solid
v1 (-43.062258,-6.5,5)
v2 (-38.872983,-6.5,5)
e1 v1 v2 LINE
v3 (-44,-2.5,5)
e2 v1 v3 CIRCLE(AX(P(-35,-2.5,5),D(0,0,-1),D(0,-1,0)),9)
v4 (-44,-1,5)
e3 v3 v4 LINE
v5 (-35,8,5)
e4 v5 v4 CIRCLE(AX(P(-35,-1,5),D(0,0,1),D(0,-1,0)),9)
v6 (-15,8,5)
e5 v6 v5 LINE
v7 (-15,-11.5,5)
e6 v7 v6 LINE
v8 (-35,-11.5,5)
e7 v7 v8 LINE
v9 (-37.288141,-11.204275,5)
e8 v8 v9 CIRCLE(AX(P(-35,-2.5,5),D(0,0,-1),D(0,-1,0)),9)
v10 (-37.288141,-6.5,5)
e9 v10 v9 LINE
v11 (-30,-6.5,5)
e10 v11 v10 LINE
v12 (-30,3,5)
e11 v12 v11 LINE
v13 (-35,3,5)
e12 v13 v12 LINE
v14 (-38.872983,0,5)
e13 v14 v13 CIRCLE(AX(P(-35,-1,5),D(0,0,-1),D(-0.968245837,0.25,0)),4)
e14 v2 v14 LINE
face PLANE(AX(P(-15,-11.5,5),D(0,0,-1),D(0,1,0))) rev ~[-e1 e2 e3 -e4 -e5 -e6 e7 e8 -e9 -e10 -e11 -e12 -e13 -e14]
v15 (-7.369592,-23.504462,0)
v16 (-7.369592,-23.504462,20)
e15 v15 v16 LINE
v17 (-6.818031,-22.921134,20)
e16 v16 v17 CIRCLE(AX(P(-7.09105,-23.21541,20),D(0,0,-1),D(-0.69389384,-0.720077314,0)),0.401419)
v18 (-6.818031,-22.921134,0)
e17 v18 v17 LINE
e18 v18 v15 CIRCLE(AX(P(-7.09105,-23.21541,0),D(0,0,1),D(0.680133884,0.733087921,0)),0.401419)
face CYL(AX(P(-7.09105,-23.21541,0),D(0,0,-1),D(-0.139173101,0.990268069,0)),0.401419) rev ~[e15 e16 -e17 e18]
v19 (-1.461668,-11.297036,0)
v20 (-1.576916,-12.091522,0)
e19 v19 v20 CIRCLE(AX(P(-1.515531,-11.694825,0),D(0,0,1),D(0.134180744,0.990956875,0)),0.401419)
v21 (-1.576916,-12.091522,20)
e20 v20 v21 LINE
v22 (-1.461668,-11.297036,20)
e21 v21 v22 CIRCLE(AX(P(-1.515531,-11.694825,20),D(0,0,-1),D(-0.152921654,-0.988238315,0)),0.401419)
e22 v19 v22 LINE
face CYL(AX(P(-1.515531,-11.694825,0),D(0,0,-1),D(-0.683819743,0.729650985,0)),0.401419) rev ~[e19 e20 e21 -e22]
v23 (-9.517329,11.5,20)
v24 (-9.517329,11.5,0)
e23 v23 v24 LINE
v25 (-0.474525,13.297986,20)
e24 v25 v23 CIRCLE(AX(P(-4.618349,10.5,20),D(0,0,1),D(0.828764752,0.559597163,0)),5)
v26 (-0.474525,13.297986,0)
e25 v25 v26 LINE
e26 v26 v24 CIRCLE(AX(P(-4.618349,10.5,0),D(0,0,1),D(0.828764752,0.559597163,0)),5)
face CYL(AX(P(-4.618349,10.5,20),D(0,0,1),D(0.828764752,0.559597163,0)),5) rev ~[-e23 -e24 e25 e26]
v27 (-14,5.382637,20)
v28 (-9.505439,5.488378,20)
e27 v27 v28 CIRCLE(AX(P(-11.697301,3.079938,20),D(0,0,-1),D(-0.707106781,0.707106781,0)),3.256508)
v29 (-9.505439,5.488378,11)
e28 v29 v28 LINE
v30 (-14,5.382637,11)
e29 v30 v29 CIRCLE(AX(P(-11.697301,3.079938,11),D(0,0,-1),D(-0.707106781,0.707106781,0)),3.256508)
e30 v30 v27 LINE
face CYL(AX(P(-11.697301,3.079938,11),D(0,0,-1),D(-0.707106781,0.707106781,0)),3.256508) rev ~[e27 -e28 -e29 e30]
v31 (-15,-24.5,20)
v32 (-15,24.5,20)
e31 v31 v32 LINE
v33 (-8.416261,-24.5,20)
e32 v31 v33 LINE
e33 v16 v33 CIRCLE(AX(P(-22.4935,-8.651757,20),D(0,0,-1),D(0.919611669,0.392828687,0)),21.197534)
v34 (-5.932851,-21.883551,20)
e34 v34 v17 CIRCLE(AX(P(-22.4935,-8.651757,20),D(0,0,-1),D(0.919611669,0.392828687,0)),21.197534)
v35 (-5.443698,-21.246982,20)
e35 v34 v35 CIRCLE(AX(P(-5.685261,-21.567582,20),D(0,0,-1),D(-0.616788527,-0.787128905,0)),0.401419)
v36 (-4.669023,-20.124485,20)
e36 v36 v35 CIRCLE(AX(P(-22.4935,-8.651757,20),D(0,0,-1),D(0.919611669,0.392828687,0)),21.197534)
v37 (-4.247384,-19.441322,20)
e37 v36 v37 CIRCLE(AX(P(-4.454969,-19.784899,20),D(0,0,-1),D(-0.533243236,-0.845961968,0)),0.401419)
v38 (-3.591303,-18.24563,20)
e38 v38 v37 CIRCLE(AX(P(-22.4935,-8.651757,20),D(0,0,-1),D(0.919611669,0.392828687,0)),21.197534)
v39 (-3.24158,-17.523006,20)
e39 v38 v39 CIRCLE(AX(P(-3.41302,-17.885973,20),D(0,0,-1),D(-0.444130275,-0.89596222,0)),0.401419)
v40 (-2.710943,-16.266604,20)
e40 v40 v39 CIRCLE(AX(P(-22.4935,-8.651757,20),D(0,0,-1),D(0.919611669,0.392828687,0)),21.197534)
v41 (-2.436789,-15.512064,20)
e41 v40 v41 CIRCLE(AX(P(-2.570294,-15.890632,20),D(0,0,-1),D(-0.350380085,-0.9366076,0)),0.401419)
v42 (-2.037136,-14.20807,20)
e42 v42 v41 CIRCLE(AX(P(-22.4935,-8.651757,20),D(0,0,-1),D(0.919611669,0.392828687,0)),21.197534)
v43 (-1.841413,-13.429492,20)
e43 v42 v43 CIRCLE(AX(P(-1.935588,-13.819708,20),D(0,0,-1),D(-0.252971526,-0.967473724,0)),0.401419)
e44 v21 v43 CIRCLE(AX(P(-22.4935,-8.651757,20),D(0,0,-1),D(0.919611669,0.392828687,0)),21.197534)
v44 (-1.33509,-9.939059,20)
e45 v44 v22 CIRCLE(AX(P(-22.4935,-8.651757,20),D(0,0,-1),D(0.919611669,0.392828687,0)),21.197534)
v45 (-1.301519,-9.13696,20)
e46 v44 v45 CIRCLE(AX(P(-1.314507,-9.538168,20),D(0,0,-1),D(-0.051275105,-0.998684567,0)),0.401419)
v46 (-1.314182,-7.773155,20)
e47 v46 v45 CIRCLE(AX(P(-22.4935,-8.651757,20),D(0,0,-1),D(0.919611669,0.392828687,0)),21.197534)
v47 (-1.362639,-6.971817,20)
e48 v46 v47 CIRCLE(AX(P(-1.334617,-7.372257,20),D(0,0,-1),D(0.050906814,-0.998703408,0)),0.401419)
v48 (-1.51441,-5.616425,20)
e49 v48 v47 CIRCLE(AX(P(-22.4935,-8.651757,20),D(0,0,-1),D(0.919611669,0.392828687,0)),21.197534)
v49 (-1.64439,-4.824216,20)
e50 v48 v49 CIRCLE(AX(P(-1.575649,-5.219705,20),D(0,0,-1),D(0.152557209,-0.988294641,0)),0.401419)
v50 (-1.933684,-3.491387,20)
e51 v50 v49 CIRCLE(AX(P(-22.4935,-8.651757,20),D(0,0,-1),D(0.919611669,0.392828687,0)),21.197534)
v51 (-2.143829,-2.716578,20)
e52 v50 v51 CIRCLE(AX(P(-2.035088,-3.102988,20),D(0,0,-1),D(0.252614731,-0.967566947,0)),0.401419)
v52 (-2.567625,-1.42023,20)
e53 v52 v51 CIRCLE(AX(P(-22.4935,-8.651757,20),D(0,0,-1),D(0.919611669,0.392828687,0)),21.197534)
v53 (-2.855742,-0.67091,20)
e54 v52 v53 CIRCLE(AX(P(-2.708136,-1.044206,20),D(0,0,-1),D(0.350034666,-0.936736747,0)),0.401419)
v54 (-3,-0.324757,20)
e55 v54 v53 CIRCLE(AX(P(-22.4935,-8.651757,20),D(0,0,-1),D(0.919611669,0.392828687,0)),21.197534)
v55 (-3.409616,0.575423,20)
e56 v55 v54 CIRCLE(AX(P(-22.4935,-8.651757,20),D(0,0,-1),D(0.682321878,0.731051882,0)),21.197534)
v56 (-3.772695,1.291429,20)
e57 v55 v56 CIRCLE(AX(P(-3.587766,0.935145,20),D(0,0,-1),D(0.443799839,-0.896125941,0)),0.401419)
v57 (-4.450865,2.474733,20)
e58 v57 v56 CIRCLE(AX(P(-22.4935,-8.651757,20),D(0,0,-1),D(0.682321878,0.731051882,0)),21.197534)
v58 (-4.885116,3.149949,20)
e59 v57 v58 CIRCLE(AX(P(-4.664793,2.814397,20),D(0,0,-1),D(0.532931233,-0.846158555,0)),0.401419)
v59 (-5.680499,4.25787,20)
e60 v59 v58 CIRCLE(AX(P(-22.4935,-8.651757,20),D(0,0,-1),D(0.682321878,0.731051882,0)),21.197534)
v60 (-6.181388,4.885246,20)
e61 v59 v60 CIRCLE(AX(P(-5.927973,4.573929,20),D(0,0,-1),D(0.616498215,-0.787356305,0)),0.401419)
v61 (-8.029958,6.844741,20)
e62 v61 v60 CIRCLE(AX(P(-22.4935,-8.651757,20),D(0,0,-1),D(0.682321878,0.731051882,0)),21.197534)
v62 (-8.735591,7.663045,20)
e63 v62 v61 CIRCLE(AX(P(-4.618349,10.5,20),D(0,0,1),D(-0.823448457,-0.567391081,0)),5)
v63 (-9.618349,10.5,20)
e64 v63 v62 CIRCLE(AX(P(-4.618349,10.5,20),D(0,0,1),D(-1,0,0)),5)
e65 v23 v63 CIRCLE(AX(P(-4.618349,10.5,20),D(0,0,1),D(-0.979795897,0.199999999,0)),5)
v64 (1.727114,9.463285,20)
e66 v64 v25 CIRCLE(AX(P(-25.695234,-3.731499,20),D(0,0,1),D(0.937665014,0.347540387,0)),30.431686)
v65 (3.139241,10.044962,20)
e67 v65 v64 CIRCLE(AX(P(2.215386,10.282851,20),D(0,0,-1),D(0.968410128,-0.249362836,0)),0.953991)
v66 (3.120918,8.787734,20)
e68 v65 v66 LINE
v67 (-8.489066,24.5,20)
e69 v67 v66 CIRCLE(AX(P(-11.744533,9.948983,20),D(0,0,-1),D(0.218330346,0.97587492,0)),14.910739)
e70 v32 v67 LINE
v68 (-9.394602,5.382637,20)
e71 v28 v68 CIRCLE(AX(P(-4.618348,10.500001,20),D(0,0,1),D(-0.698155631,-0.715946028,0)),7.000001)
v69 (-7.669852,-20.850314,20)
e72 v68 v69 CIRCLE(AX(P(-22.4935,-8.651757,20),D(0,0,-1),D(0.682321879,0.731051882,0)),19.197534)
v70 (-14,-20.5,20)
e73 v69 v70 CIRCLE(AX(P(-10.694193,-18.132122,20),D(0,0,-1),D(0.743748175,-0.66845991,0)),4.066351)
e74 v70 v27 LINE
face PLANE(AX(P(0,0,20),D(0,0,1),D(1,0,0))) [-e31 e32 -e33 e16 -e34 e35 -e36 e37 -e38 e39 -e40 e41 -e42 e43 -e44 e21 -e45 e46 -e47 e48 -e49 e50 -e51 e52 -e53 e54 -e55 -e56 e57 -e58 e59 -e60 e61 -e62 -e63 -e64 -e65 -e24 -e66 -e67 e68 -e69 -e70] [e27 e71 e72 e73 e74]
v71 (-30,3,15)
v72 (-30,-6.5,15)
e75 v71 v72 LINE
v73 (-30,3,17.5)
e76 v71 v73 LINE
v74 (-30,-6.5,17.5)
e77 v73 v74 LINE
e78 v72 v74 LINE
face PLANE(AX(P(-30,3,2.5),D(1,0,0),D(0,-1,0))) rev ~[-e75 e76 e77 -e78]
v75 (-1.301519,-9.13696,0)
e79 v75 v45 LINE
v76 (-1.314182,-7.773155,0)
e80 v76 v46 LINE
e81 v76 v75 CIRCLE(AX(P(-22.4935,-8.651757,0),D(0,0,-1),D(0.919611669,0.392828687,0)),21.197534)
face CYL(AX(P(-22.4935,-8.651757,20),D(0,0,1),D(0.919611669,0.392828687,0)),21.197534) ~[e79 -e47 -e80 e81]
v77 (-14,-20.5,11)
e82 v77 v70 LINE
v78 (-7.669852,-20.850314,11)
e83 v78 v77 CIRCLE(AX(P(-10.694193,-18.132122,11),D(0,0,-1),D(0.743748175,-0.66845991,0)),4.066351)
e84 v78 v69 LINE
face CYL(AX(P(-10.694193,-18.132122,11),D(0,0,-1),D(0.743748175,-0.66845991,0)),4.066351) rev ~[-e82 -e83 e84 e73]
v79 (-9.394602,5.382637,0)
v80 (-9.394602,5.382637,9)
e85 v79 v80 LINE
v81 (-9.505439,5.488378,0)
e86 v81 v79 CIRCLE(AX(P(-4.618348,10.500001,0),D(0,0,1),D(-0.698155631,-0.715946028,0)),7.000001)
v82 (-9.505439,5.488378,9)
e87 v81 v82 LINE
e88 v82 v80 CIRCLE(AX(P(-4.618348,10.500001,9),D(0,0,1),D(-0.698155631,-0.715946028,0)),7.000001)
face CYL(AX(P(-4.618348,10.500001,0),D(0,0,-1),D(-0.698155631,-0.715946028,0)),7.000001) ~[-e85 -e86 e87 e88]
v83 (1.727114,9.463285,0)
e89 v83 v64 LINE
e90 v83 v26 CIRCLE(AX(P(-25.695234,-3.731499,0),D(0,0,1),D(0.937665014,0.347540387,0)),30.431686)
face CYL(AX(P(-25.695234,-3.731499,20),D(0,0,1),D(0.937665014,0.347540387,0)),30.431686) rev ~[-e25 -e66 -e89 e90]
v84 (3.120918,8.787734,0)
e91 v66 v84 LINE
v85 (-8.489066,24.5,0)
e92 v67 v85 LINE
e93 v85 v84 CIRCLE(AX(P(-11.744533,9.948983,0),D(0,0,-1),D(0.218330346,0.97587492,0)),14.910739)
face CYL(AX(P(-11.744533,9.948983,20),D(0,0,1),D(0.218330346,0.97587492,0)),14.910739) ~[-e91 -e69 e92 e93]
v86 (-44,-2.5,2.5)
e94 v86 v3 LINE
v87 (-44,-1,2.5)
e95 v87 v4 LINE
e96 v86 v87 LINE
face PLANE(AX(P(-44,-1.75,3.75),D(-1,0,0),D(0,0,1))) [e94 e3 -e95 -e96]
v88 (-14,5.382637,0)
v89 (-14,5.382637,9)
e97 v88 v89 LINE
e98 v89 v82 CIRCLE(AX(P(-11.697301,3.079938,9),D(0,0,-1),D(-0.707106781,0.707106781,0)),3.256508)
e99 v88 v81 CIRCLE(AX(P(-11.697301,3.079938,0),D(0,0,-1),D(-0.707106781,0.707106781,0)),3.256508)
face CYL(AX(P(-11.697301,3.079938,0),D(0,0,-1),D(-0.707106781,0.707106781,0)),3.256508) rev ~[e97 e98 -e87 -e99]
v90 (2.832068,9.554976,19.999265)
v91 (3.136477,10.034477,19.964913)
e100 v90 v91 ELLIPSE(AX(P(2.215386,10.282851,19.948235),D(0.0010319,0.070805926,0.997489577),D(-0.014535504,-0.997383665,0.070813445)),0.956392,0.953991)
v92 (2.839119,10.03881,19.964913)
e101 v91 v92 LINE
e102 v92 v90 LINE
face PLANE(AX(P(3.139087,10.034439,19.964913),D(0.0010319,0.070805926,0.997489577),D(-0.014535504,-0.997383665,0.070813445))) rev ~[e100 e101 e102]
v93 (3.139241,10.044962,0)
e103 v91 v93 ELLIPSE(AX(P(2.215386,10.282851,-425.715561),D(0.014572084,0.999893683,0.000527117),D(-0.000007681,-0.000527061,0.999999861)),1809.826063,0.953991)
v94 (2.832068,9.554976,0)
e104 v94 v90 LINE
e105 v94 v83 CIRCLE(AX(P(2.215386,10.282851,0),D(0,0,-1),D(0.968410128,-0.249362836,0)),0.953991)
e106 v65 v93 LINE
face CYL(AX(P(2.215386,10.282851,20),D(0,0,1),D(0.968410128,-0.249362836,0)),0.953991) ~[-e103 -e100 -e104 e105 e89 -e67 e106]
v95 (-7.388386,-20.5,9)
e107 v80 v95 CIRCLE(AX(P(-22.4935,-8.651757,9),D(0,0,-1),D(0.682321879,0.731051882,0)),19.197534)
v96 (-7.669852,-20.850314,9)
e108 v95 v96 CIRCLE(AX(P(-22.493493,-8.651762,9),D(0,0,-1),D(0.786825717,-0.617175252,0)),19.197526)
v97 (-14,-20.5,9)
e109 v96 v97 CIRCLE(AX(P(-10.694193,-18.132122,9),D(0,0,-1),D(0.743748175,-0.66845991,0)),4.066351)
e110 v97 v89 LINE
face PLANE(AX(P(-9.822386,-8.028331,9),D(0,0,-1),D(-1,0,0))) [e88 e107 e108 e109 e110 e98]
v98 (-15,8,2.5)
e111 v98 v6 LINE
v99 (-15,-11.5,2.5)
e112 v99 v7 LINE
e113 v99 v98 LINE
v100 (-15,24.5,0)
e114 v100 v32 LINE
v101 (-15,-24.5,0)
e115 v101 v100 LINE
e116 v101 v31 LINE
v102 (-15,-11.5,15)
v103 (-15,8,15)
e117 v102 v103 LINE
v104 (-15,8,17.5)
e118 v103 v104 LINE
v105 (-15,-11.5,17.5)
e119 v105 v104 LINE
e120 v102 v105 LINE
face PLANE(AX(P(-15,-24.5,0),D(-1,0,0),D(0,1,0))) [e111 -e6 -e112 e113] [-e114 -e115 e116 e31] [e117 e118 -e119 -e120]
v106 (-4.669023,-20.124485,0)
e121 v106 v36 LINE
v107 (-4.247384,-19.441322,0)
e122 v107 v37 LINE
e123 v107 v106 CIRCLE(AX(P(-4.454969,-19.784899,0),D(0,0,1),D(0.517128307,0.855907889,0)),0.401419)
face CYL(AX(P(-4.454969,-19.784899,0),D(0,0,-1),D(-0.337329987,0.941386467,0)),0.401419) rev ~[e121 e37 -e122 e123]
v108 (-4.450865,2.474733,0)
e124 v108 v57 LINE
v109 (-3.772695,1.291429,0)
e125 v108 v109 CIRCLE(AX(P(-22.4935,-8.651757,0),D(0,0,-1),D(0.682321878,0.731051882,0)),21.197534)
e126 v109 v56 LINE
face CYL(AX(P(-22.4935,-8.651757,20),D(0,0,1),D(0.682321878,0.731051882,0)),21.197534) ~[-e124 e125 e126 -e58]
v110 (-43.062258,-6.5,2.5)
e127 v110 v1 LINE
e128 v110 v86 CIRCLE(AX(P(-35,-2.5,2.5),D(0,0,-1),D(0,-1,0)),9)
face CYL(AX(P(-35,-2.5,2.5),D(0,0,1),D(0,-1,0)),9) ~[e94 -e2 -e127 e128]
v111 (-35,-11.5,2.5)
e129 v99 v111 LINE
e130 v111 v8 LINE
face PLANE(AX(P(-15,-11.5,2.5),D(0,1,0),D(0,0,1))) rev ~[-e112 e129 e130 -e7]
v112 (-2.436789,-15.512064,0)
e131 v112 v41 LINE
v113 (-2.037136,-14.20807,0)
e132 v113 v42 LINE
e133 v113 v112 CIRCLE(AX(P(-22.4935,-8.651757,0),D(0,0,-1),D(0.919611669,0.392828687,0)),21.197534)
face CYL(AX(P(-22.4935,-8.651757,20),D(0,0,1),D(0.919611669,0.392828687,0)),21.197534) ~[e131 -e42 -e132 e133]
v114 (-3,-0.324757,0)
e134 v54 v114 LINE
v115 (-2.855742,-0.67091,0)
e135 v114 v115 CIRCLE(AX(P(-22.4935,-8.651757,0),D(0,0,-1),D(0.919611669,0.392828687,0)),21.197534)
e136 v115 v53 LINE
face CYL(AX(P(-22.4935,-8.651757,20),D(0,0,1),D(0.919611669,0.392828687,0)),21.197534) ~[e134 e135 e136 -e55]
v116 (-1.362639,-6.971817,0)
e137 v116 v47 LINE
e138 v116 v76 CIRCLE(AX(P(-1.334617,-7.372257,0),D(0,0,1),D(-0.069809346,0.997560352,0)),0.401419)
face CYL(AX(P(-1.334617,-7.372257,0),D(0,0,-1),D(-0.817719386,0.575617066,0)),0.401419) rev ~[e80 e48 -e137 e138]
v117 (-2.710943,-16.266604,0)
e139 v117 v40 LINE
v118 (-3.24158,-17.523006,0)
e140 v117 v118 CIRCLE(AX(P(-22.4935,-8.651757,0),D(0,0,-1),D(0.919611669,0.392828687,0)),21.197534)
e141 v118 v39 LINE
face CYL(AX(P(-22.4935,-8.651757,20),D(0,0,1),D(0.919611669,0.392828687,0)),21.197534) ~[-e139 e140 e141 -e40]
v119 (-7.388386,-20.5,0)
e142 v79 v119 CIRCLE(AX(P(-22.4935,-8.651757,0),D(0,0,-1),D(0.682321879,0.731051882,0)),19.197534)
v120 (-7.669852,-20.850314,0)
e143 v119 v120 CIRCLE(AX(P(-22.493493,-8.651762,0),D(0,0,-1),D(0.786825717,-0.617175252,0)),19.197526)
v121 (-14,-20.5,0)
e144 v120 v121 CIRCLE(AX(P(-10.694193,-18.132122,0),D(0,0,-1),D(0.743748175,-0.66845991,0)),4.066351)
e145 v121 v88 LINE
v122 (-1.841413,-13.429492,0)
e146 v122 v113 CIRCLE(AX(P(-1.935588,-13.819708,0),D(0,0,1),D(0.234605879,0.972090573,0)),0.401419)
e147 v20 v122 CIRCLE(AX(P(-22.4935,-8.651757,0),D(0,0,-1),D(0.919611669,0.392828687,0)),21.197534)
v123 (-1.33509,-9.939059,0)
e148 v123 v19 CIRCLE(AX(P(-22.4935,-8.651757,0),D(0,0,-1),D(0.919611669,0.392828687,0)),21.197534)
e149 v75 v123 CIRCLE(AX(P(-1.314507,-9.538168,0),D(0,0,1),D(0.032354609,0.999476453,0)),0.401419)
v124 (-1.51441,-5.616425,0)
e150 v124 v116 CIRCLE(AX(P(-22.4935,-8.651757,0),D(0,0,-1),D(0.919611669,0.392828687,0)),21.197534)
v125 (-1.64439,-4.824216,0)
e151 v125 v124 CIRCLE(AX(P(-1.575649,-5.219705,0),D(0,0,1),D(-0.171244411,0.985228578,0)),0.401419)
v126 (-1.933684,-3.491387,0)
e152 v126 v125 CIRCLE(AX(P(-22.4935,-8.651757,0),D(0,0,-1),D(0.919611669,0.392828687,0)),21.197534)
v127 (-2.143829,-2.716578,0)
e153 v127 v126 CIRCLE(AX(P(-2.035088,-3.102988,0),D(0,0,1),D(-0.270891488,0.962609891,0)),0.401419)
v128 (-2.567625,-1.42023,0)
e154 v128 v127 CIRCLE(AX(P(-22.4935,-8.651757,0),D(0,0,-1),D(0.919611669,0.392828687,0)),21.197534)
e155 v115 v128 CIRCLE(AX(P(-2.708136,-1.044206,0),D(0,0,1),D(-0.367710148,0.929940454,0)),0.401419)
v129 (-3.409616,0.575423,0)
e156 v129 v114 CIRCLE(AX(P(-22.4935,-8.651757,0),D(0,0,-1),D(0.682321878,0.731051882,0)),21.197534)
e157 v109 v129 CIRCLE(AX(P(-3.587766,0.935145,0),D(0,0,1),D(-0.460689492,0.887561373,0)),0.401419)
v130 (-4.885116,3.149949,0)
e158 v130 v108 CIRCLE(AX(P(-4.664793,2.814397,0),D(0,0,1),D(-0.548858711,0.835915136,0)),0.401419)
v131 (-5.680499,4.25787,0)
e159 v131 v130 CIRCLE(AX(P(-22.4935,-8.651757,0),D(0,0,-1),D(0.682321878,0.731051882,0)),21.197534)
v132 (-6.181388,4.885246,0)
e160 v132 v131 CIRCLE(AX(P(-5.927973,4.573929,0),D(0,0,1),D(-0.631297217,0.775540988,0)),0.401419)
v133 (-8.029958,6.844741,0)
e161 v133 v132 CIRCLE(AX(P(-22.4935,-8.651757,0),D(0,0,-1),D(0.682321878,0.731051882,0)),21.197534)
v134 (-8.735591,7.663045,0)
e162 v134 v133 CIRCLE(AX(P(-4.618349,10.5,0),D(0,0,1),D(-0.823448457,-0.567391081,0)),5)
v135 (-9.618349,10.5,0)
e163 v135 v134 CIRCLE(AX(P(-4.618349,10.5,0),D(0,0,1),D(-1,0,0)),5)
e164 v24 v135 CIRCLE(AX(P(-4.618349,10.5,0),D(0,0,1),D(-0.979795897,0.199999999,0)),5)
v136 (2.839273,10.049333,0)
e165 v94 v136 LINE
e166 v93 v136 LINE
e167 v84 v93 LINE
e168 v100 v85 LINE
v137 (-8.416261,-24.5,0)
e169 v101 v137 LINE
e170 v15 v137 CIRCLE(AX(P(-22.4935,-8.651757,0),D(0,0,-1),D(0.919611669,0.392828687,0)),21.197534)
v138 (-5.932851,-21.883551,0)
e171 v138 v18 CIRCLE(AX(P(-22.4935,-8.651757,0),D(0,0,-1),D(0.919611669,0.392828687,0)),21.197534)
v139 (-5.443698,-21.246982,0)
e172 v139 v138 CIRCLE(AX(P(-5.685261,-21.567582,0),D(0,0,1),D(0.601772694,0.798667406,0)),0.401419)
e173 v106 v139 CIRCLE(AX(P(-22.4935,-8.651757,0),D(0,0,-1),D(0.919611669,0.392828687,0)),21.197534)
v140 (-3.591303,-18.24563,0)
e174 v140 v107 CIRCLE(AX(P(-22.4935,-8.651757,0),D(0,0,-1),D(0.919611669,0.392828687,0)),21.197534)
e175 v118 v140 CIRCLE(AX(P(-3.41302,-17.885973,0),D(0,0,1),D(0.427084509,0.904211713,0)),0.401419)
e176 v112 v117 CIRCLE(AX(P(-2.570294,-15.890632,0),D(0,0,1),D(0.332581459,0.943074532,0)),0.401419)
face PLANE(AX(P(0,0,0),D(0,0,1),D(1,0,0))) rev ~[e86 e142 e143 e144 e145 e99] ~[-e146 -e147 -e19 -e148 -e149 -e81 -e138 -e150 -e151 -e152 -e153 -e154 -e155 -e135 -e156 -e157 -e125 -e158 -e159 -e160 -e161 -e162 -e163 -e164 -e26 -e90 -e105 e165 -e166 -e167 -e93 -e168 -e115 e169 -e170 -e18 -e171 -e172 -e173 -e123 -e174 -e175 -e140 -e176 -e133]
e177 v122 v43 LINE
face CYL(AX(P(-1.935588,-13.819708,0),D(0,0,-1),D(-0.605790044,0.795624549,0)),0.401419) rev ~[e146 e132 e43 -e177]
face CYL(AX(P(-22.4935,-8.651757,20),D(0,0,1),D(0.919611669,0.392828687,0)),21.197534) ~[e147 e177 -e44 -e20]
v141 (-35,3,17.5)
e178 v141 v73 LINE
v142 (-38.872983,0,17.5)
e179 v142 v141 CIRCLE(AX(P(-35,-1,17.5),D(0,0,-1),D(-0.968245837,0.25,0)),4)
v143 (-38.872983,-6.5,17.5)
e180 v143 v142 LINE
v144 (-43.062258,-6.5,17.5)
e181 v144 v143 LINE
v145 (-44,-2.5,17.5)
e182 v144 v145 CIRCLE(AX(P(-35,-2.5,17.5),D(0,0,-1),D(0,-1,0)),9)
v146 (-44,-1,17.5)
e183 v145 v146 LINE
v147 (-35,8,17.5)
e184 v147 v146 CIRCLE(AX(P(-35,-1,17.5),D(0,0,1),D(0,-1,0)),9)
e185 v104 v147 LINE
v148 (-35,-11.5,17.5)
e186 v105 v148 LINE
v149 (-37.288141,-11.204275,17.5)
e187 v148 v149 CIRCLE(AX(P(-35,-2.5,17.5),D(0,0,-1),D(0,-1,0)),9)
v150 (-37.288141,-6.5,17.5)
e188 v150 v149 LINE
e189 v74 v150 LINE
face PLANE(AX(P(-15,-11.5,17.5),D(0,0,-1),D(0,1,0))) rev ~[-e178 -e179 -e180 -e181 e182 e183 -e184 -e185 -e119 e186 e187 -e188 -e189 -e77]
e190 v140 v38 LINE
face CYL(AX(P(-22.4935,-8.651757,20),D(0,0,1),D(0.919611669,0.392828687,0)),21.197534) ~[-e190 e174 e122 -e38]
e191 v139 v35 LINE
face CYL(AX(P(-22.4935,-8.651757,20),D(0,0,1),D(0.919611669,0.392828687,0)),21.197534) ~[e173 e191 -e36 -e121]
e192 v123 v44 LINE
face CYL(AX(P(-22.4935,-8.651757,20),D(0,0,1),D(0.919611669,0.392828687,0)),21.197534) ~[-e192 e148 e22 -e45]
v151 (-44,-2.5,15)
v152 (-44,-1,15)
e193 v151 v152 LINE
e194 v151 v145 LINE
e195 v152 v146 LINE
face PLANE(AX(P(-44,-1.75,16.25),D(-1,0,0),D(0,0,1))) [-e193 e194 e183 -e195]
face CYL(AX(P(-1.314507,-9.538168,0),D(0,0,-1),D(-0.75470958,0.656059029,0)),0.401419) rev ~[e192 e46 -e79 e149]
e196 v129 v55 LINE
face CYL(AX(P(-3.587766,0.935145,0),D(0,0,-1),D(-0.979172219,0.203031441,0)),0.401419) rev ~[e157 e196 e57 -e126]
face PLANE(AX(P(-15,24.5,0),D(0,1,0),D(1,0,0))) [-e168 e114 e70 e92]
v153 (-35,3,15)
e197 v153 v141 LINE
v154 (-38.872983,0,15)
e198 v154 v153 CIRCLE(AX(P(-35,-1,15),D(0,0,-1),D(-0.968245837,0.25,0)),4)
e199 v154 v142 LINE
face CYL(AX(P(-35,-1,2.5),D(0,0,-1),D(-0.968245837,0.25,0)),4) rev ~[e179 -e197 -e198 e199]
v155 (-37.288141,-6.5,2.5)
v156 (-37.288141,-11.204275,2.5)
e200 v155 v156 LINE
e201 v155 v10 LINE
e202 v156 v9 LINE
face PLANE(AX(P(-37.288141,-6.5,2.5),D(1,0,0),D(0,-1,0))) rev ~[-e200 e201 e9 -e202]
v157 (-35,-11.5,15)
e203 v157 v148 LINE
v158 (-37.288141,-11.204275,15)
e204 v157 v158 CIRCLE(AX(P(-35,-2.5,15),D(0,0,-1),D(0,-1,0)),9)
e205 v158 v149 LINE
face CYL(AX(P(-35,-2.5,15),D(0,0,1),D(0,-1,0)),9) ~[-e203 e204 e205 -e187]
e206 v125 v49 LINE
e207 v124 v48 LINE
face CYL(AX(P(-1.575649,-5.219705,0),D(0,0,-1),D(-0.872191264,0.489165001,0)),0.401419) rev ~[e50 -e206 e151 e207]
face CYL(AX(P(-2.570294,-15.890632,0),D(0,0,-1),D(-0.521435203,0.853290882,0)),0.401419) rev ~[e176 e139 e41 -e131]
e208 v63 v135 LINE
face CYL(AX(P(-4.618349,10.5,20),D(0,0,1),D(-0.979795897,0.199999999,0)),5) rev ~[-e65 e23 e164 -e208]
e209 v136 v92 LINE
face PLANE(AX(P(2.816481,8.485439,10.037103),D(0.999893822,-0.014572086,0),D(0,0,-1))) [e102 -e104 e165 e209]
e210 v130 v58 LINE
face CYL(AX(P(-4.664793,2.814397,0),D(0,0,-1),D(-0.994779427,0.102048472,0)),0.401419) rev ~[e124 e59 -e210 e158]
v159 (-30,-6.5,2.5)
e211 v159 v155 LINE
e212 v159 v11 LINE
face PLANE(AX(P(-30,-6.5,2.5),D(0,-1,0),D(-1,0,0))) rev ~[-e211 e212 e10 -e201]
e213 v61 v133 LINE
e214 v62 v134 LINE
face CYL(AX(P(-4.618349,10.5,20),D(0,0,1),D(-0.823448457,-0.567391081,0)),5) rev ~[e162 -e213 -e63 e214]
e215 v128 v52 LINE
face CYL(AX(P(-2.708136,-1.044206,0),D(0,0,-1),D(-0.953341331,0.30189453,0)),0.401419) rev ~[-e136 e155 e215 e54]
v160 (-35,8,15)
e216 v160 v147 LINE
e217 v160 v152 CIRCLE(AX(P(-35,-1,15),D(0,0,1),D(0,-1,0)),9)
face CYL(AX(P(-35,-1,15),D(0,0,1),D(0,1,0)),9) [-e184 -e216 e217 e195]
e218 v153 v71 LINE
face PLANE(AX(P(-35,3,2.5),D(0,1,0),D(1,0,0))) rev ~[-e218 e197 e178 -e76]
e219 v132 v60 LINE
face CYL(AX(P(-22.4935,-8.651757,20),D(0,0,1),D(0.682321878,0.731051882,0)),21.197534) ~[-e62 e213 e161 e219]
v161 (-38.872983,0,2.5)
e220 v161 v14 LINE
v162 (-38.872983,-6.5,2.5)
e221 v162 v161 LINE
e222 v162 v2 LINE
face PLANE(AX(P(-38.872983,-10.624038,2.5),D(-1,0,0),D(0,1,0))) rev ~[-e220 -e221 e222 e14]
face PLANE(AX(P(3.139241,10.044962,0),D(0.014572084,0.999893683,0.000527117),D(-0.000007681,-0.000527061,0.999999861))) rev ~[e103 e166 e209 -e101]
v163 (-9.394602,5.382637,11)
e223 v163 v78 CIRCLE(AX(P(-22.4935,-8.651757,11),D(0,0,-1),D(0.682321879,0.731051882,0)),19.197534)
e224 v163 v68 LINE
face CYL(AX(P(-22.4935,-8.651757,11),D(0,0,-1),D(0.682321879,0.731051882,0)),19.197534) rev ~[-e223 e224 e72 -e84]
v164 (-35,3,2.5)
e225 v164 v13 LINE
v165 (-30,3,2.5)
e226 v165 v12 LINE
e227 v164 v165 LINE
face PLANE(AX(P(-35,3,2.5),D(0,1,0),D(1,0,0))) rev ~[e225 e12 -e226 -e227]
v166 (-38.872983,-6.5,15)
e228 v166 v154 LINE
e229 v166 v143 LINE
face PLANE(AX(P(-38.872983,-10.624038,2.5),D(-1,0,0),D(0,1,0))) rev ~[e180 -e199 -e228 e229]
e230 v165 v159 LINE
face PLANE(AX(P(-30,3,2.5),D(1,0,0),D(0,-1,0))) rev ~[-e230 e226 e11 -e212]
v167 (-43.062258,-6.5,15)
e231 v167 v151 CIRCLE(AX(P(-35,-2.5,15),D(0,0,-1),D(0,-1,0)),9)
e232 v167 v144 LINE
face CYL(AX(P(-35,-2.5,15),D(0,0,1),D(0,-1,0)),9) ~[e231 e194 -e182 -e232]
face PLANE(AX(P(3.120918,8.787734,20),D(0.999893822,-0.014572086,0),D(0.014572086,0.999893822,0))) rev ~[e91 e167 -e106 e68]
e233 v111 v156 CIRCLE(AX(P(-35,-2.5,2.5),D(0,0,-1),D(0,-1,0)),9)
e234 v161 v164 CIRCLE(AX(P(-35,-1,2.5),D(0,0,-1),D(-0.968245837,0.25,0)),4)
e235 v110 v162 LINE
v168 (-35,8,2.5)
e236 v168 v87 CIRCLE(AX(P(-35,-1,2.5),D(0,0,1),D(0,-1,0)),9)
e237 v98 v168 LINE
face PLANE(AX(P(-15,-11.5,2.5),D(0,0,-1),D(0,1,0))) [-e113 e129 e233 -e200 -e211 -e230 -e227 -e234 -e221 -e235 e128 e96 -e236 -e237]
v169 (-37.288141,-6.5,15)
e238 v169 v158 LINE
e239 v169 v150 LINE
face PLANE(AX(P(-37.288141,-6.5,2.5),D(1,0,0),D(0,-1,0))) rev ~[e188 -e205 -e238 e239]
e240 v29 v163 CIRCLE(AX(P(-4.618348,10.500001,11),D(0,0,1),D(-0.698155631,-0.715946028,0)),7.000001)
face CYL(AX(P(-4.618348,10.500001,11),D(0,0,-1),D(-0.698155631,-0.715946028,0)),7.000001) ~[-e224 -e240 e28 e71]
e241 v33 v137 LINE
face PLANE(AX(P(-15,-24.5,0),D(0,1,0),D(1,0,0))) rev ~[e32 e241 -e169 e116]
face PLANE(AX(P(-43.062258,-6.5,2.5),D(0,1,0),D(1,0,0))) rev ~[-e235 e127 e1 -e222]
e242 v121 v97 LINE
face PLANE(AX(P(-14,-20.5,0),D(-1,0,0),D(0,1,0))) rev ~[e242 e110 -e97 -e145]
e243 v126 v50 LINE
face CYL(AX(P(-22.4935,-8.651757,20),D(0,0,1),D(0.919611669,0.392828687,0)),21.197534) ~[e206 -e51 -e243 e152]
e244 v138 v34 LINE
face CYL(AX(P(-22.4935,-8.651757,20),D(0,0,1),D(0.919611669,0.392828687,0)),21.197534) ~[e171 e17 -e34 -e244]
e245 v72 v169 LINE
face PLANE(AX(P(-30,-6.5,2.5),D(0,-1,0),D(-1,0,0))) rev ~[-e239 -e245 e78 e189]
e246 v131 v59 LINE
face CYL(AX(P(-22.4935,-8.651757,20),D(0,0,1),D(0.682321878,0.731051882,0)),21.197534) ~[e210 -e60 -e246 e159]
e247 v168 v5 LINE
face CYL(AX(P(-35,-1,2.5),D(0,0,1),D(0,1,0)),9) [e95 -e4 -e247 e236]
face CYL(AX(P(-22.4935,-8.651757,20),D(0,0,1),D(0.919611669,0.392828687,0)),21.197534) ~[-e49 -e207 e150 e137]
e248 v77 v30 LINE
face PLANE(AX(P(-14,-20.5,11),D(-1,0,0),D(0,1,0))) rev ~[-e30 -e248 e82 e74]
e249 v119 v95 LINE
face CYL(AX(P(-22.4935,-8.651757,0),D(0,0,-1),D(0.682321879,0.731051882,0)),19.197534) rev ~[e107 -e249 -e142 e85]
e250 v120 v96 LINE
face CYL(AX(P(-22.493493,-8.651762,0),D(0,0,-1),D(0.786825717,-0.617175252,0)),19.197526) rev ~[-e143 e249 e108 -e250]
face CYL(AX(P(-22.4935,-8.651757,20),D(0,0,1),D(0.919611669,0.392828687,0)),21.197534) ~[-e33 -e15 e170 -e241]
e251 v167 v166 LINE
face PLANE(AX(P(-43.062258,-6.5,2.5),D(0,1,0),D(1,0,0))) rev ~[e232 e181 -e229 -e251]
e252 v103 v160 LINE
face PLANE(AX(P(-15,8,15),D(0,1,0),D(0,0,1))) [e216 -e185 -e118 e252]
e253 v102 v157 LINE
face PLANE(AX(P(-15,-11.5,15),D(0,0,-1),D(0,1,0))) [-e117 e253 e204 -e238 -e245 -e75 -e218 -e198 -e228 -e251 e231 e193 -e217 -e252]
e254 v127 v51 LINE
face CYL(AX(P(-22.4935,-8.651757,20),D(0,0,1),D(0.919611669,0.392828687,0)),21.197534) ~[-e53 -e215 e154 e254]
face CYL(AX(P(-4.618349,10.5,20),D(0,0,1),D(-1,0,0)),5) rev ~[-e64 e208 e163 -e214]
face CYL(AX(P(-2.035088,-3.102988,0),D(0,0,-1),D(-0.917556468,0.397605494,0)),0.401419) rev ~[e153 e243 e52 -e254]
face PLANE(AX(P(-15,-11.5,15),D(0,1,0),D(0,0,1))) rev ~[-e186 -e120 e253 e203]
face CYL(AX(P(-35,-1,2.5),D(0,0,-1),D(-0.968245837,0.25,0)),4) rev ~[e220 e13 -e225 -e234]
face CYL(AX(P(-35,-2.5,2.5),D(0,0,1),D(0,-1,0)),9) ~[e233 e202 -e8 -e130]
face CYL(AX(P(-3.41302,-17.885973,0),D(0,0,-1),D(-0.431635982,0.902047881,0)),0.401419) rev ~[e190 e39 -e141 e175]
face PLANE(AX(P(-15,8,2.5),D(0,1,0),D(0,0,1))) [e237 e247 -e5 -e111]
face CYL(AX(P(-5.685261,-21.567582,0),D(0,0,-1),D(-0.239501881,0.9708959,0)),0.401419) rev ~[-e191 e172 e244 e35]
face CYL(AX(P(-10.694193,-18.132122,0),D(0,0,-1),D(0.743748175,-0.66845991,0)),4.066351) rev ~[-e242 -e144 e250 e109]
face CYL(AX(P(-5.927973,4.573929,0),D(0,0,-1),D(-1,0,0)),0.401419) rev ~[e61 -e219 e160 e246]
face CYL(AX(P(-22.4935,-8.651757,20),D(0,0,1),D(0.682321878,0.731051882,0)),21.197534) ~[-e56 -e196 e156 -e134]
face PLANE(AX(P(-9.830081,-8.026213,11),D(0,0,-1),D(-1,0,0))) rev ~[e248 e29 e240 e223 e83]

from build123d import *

# Parameters (mm, degrees)
CROQUIS1_W              = 30
CROQUIS1_H              = 49
SALIENTE_EXTRUIR1_DEPTH = 20
CORTAR_EXTRUIR3_DEPTH   = 20
CORTAR_EXTRUIR5_DEPTH   = 20
CORTAR_EXTRUIR6_DEPTH   = 0.3
CROQUIS5_W              = 13.233735145
CROQUIS5_H              = 2.403316153
CORTAR_EXTRUIR9_DEPTH   = 20.3
CROQUIS6_W              = 2.5
CROQUIS6_H              = 19.5
SALIENTE_EXTRUIR2_DEPTH = 29
REDONDEO1_R             = 9
CORTAR_EXTRUIR10_DEPTH  = 29
CORTAR_EXTRUIR11_DEPTH  = 29
CORTAR_EXTRUIR16_DEPTH  = 9
CORTAR_EXTRUIR17_START  = -2
CORTAR_EXTRUIR17_DEPTH  = 9
CROQUIS13_R             = 0.40141899
CORTAR_EXTRUIR18_DEPTH  = 22
MATRIZC1_COUNT          = 15
MATRIZC1_ANGLE          = 82


with BuildPart() as part:
    # Croquis1 → Saliente-Extruir1 (new body)
    with BuildSketch(Plane.XY):
        Rectangle(CROQUIS1_W, CROQUIS1_H)
    extrude(amount=SALIENTE_EXTRUIR1_DEPTH)

    # Croquis2 → Cortar-Extruir3 (cut)
    with BuildSketch(Plane.XY.offset(20)):
        with BuildLine():
            ThreePointArc((-0.474525342, 13.297985817), (-5.593414892, 15.404003131), (-9.517328589, 11.5))
            ThreePointArc((-9.517328589, 11.5), (-9.593029868, 11.00254481), (-9.618349103, 10.5))
            ThreePointArc((-9.618349103, 10.5), (-9.39256168, 9.014438062), (-8.735591395, 7.663044605))
            ThreePointArc((-8.735591395, 7.663044605), (-8.404944841, 7.234775243), (-8.029958496, 6.84474059))
            ThreePointArc((-8.029958496, 6.84474059), (-5.140673383, 3.522596276), (-3, -0.324757201))
            ThreePointArc((-3, -0.324757201), (-1.808741917, -13.286004066), (-8.416261219, -24.5))
            Line((-8.416261219, -24.5), (15, -24.5))
            Line((15, -24.5), (15, 24.5))
            Line((15, 24.5), (-8.489066238, 24.5))
            ThreePointArc((-8.489066238, 24.5), (0.804926071, 18.001388169), (2.839493239, 6.84474059))
            ThreePointArc((2.839493239, 6.84474059), (1.375466316, 10.170467938), (-0.474525342, 13.297985817))
        make_face()
    extrude(amount=-CORTAR_EXTRUIR3_DEPTH, mode=Mode.SUBTRACT)

    # Croquis3 → Cortar-Extruir5 (cut)
    with BuildSketch(Plane.XY.offset(20)):
        with BuildLine():
            Line((3.120918342, 8.787733578), (3.139240721, 10.044961504))
            ThreePointArc((3.139240721, 10.044961504), (2.537101628, 9.384743505), (1.652711167, 9.512465101))
            Line((1.652711167, 9.512465101), (2.839493239, 6.84474059))
            Line((2.839493239, 6.84474059), (3.120918342, 8.787733578))
        make_face()
    extrude(amount=-CORTAR_EXTRUIR5_DEPTH, mode=Mode.SUBTRACT)

    # Croquis4 → Cortar-Extruir6 (cut)
    with BuildSketch(Plane(origin=(2.992213613, -0.043607425, 0), x_dir=(0, 0, 1), z_dir=(-0.999893822, 0.014572086, 0))):
        Polygon((19.964912912, 10.079116377), (20.184817926, 6.981498966), (0, 6.981498966), (0, 10.089640231), align=None)
    extrude(amount=CORTAR_EXTRUIR6_DEPTH, mode=Mode.SUBTRACT)

    # Croquis5 → Cortar-Extruir9 (cut)
    with BuildSketch(Plane(origin=(2.853385744, 6.940656131, 20), x_dir=(-1, 0, 0), z_dir=(0, 0, -1))):
        with Locations((-6.558491356, -0.917958816)):
            Rectangle(CROQUIS5_W, CROQUIS5_H)
    extrude(amount=CORTAR_EXTRUIR9_DEPTH, mode=Mode.SUBTRACT)

    # Croquis6 → Saliente-Extruir2 (add)
    with BuildSketch(Plane.ZY.offset(15)):
        with Locations((16.25, -1.75)):
            Rectangle(CROQUIS6_W, CROQUIS6_H)
        with Locations((3.75, -1.75)):
            Rectangle(CROQUIS6_W, CROQUIS6_H)
    extrude(amount=SALIENTE_EXTRUIR2_DEPTH)

    # Redondeo1
    redondeo1_edges = [part.edges().sort_by_distance(p)[0] for p in [
        (-44, -11.5, 16.25),
        (-44, 8, 16.25),
        (-44, -11.5, 3.75),
        (-44, 8, 3.75),
    ]]
    fillet(redondeo1_edges, radius=REDONDEO1_R)

    # Croquis7 → Cortar-Extruir10 (cut)
    with BuildSketch(Plane(origin=(0, 0, 2.5), x_dir=(-1, 0, 0), z_dir=(0, 0, -1))):
        with BuildLine():
            Line((37.288140826, -6.5), (37.288140826, -11.204275476))
            ThreePointArc((37.288140826, -11.204275476), (38.094193196, -10.951388553), (38.872983346, -10.624038405))
            Line((38.872983346, -10.624038405), (38.872983346, 0))
            ThreePointArc((38.872983346, 0), (37.449489743, 2.16227766), (35, 3))
            Line((35, 3), (30, 3))
            Line((30, 3), (30, -6.5))
            Line((30, -6.5), (37.288140826, -6.5))
        make_face()
    extrude(amount=-CORTAR_EXTRUIR10_DEPTH, mode=Mode.SUBTRACT)

    # Croquis8 → Cortar-Extruir11 (cut)
    with BuildSketch(Plane(origin=(0, 0, 2.5), x_dir=(-1, 0, 0), z_dir=(0, 0, -1))):
        with BuildLine():
            Line((43.062257748, -6.5), (38.872983346, -6.5))
            Line((38.872983346, -6.5), (38.872983346, -10.624038405))
            ThreePointArc((38.872983346, -10.624038405), (41.313827539, -8.91370266), (43.062257748, -6.5))
        make_face()
    extrude(amount=-CORTAR_EXTRUIR11_DEPTH, mode=Mode.SUBTRACT)

    # Croquis9 → Cortar-Extruir16 (cut)
    with BuildSketch(Plane(origin=(0, 0, 0), x_dir=(-1, 0, 0), z_dir=(0, 0, -1))):
        with BuildLine():
            Line((14, -20.5), (14, 5.382636826))
            ThreePointArc((14, 5.382636826), (11.773893936, 6.335545077), (9.505438523, 5.488377807))
            ThreePointArc((9.505438523, 5.488377807), (9.450309647, 5.43520412), (9.394602253, 5.382636826))
            ThreePointArc((9.394602253, 5.382636826), (3.353377533, -7.168166886), (7.3883863, -20.5))
            ThreePointArc((7.3883863, -20.5), (7.528094247, -20.675980579), (7.669852324, -20.850313944))
            ThreePointArc((7.669852324, -20.850313944), (10.918883483, -22.192259689), (14, -20.5))
        make_face()
    extrude(amount=-CORTAR_EXTRUIR16_DEPTH, mode=Mode.SUBTRACT)

    # Croquis11 → Cortar-Extruir17 (cut)
    with BuildSketch(Plane(origin=(0, 0, 9), x_dir=(-1, 0, 0), z_dir=(0, 0, -1)).offset(CORTAR_EXTRUIR17_START)):
        with BuildLine():
            Line((14, -20.5), (14, 5.382636826))
            ThreePointArc((14, 5.382636826), (11.773893936, 6.335545077), (9.505438523, 5.488377807))
            ThreePointArc((9.505438523, 5.488377807), (9.450309647, 5.43520412), (9.394602253, 5.382636826))
            ThreePointArc((9.394602253, 5.382636826), (3.337324426, -7.392286881), (7.669852324, -20.850313944))
            ThreePointArc((7.669852324, -20.850313944), (10.918883483, -22.192259689), (14, -20.5))
        make_face()
    extrude(amount=-CORTAR_EXTRUIR17_DEPTH, mode=Mode.SUBTRACT)

    # Croquis13 → Cortar-Extruir18 (cut)
    with BuildSketch(Plane(origin=(0, 0, 0), x_dir=(-1, 0, 0), z_dir=(0, 0, -1))):
        with Locations((5.927972834, 4.573929347)):
            Circle(CROQUIS13_R)
    cortar_extruir18 = extrude(amount=-CORTAR_EXTRUIR18_DEPTH, mode=Mode.SUBTRACT)

    # MatrizC1: Cortar-Extruir18 ×15 about axis
    matrizc1_axis = Axis((-22.493499964, -8.651756801, 0), (0, 0, -1))
    for i in range(1, MATRIZC1_COUNT):
        add(cortar_extruir18.rotate(matrizc1_axis, i * MATRIZC1_ANGLE / (MATRIZC1_COUNT - 1)), mode=Mode.SUBTRACT)


solid = part.part
